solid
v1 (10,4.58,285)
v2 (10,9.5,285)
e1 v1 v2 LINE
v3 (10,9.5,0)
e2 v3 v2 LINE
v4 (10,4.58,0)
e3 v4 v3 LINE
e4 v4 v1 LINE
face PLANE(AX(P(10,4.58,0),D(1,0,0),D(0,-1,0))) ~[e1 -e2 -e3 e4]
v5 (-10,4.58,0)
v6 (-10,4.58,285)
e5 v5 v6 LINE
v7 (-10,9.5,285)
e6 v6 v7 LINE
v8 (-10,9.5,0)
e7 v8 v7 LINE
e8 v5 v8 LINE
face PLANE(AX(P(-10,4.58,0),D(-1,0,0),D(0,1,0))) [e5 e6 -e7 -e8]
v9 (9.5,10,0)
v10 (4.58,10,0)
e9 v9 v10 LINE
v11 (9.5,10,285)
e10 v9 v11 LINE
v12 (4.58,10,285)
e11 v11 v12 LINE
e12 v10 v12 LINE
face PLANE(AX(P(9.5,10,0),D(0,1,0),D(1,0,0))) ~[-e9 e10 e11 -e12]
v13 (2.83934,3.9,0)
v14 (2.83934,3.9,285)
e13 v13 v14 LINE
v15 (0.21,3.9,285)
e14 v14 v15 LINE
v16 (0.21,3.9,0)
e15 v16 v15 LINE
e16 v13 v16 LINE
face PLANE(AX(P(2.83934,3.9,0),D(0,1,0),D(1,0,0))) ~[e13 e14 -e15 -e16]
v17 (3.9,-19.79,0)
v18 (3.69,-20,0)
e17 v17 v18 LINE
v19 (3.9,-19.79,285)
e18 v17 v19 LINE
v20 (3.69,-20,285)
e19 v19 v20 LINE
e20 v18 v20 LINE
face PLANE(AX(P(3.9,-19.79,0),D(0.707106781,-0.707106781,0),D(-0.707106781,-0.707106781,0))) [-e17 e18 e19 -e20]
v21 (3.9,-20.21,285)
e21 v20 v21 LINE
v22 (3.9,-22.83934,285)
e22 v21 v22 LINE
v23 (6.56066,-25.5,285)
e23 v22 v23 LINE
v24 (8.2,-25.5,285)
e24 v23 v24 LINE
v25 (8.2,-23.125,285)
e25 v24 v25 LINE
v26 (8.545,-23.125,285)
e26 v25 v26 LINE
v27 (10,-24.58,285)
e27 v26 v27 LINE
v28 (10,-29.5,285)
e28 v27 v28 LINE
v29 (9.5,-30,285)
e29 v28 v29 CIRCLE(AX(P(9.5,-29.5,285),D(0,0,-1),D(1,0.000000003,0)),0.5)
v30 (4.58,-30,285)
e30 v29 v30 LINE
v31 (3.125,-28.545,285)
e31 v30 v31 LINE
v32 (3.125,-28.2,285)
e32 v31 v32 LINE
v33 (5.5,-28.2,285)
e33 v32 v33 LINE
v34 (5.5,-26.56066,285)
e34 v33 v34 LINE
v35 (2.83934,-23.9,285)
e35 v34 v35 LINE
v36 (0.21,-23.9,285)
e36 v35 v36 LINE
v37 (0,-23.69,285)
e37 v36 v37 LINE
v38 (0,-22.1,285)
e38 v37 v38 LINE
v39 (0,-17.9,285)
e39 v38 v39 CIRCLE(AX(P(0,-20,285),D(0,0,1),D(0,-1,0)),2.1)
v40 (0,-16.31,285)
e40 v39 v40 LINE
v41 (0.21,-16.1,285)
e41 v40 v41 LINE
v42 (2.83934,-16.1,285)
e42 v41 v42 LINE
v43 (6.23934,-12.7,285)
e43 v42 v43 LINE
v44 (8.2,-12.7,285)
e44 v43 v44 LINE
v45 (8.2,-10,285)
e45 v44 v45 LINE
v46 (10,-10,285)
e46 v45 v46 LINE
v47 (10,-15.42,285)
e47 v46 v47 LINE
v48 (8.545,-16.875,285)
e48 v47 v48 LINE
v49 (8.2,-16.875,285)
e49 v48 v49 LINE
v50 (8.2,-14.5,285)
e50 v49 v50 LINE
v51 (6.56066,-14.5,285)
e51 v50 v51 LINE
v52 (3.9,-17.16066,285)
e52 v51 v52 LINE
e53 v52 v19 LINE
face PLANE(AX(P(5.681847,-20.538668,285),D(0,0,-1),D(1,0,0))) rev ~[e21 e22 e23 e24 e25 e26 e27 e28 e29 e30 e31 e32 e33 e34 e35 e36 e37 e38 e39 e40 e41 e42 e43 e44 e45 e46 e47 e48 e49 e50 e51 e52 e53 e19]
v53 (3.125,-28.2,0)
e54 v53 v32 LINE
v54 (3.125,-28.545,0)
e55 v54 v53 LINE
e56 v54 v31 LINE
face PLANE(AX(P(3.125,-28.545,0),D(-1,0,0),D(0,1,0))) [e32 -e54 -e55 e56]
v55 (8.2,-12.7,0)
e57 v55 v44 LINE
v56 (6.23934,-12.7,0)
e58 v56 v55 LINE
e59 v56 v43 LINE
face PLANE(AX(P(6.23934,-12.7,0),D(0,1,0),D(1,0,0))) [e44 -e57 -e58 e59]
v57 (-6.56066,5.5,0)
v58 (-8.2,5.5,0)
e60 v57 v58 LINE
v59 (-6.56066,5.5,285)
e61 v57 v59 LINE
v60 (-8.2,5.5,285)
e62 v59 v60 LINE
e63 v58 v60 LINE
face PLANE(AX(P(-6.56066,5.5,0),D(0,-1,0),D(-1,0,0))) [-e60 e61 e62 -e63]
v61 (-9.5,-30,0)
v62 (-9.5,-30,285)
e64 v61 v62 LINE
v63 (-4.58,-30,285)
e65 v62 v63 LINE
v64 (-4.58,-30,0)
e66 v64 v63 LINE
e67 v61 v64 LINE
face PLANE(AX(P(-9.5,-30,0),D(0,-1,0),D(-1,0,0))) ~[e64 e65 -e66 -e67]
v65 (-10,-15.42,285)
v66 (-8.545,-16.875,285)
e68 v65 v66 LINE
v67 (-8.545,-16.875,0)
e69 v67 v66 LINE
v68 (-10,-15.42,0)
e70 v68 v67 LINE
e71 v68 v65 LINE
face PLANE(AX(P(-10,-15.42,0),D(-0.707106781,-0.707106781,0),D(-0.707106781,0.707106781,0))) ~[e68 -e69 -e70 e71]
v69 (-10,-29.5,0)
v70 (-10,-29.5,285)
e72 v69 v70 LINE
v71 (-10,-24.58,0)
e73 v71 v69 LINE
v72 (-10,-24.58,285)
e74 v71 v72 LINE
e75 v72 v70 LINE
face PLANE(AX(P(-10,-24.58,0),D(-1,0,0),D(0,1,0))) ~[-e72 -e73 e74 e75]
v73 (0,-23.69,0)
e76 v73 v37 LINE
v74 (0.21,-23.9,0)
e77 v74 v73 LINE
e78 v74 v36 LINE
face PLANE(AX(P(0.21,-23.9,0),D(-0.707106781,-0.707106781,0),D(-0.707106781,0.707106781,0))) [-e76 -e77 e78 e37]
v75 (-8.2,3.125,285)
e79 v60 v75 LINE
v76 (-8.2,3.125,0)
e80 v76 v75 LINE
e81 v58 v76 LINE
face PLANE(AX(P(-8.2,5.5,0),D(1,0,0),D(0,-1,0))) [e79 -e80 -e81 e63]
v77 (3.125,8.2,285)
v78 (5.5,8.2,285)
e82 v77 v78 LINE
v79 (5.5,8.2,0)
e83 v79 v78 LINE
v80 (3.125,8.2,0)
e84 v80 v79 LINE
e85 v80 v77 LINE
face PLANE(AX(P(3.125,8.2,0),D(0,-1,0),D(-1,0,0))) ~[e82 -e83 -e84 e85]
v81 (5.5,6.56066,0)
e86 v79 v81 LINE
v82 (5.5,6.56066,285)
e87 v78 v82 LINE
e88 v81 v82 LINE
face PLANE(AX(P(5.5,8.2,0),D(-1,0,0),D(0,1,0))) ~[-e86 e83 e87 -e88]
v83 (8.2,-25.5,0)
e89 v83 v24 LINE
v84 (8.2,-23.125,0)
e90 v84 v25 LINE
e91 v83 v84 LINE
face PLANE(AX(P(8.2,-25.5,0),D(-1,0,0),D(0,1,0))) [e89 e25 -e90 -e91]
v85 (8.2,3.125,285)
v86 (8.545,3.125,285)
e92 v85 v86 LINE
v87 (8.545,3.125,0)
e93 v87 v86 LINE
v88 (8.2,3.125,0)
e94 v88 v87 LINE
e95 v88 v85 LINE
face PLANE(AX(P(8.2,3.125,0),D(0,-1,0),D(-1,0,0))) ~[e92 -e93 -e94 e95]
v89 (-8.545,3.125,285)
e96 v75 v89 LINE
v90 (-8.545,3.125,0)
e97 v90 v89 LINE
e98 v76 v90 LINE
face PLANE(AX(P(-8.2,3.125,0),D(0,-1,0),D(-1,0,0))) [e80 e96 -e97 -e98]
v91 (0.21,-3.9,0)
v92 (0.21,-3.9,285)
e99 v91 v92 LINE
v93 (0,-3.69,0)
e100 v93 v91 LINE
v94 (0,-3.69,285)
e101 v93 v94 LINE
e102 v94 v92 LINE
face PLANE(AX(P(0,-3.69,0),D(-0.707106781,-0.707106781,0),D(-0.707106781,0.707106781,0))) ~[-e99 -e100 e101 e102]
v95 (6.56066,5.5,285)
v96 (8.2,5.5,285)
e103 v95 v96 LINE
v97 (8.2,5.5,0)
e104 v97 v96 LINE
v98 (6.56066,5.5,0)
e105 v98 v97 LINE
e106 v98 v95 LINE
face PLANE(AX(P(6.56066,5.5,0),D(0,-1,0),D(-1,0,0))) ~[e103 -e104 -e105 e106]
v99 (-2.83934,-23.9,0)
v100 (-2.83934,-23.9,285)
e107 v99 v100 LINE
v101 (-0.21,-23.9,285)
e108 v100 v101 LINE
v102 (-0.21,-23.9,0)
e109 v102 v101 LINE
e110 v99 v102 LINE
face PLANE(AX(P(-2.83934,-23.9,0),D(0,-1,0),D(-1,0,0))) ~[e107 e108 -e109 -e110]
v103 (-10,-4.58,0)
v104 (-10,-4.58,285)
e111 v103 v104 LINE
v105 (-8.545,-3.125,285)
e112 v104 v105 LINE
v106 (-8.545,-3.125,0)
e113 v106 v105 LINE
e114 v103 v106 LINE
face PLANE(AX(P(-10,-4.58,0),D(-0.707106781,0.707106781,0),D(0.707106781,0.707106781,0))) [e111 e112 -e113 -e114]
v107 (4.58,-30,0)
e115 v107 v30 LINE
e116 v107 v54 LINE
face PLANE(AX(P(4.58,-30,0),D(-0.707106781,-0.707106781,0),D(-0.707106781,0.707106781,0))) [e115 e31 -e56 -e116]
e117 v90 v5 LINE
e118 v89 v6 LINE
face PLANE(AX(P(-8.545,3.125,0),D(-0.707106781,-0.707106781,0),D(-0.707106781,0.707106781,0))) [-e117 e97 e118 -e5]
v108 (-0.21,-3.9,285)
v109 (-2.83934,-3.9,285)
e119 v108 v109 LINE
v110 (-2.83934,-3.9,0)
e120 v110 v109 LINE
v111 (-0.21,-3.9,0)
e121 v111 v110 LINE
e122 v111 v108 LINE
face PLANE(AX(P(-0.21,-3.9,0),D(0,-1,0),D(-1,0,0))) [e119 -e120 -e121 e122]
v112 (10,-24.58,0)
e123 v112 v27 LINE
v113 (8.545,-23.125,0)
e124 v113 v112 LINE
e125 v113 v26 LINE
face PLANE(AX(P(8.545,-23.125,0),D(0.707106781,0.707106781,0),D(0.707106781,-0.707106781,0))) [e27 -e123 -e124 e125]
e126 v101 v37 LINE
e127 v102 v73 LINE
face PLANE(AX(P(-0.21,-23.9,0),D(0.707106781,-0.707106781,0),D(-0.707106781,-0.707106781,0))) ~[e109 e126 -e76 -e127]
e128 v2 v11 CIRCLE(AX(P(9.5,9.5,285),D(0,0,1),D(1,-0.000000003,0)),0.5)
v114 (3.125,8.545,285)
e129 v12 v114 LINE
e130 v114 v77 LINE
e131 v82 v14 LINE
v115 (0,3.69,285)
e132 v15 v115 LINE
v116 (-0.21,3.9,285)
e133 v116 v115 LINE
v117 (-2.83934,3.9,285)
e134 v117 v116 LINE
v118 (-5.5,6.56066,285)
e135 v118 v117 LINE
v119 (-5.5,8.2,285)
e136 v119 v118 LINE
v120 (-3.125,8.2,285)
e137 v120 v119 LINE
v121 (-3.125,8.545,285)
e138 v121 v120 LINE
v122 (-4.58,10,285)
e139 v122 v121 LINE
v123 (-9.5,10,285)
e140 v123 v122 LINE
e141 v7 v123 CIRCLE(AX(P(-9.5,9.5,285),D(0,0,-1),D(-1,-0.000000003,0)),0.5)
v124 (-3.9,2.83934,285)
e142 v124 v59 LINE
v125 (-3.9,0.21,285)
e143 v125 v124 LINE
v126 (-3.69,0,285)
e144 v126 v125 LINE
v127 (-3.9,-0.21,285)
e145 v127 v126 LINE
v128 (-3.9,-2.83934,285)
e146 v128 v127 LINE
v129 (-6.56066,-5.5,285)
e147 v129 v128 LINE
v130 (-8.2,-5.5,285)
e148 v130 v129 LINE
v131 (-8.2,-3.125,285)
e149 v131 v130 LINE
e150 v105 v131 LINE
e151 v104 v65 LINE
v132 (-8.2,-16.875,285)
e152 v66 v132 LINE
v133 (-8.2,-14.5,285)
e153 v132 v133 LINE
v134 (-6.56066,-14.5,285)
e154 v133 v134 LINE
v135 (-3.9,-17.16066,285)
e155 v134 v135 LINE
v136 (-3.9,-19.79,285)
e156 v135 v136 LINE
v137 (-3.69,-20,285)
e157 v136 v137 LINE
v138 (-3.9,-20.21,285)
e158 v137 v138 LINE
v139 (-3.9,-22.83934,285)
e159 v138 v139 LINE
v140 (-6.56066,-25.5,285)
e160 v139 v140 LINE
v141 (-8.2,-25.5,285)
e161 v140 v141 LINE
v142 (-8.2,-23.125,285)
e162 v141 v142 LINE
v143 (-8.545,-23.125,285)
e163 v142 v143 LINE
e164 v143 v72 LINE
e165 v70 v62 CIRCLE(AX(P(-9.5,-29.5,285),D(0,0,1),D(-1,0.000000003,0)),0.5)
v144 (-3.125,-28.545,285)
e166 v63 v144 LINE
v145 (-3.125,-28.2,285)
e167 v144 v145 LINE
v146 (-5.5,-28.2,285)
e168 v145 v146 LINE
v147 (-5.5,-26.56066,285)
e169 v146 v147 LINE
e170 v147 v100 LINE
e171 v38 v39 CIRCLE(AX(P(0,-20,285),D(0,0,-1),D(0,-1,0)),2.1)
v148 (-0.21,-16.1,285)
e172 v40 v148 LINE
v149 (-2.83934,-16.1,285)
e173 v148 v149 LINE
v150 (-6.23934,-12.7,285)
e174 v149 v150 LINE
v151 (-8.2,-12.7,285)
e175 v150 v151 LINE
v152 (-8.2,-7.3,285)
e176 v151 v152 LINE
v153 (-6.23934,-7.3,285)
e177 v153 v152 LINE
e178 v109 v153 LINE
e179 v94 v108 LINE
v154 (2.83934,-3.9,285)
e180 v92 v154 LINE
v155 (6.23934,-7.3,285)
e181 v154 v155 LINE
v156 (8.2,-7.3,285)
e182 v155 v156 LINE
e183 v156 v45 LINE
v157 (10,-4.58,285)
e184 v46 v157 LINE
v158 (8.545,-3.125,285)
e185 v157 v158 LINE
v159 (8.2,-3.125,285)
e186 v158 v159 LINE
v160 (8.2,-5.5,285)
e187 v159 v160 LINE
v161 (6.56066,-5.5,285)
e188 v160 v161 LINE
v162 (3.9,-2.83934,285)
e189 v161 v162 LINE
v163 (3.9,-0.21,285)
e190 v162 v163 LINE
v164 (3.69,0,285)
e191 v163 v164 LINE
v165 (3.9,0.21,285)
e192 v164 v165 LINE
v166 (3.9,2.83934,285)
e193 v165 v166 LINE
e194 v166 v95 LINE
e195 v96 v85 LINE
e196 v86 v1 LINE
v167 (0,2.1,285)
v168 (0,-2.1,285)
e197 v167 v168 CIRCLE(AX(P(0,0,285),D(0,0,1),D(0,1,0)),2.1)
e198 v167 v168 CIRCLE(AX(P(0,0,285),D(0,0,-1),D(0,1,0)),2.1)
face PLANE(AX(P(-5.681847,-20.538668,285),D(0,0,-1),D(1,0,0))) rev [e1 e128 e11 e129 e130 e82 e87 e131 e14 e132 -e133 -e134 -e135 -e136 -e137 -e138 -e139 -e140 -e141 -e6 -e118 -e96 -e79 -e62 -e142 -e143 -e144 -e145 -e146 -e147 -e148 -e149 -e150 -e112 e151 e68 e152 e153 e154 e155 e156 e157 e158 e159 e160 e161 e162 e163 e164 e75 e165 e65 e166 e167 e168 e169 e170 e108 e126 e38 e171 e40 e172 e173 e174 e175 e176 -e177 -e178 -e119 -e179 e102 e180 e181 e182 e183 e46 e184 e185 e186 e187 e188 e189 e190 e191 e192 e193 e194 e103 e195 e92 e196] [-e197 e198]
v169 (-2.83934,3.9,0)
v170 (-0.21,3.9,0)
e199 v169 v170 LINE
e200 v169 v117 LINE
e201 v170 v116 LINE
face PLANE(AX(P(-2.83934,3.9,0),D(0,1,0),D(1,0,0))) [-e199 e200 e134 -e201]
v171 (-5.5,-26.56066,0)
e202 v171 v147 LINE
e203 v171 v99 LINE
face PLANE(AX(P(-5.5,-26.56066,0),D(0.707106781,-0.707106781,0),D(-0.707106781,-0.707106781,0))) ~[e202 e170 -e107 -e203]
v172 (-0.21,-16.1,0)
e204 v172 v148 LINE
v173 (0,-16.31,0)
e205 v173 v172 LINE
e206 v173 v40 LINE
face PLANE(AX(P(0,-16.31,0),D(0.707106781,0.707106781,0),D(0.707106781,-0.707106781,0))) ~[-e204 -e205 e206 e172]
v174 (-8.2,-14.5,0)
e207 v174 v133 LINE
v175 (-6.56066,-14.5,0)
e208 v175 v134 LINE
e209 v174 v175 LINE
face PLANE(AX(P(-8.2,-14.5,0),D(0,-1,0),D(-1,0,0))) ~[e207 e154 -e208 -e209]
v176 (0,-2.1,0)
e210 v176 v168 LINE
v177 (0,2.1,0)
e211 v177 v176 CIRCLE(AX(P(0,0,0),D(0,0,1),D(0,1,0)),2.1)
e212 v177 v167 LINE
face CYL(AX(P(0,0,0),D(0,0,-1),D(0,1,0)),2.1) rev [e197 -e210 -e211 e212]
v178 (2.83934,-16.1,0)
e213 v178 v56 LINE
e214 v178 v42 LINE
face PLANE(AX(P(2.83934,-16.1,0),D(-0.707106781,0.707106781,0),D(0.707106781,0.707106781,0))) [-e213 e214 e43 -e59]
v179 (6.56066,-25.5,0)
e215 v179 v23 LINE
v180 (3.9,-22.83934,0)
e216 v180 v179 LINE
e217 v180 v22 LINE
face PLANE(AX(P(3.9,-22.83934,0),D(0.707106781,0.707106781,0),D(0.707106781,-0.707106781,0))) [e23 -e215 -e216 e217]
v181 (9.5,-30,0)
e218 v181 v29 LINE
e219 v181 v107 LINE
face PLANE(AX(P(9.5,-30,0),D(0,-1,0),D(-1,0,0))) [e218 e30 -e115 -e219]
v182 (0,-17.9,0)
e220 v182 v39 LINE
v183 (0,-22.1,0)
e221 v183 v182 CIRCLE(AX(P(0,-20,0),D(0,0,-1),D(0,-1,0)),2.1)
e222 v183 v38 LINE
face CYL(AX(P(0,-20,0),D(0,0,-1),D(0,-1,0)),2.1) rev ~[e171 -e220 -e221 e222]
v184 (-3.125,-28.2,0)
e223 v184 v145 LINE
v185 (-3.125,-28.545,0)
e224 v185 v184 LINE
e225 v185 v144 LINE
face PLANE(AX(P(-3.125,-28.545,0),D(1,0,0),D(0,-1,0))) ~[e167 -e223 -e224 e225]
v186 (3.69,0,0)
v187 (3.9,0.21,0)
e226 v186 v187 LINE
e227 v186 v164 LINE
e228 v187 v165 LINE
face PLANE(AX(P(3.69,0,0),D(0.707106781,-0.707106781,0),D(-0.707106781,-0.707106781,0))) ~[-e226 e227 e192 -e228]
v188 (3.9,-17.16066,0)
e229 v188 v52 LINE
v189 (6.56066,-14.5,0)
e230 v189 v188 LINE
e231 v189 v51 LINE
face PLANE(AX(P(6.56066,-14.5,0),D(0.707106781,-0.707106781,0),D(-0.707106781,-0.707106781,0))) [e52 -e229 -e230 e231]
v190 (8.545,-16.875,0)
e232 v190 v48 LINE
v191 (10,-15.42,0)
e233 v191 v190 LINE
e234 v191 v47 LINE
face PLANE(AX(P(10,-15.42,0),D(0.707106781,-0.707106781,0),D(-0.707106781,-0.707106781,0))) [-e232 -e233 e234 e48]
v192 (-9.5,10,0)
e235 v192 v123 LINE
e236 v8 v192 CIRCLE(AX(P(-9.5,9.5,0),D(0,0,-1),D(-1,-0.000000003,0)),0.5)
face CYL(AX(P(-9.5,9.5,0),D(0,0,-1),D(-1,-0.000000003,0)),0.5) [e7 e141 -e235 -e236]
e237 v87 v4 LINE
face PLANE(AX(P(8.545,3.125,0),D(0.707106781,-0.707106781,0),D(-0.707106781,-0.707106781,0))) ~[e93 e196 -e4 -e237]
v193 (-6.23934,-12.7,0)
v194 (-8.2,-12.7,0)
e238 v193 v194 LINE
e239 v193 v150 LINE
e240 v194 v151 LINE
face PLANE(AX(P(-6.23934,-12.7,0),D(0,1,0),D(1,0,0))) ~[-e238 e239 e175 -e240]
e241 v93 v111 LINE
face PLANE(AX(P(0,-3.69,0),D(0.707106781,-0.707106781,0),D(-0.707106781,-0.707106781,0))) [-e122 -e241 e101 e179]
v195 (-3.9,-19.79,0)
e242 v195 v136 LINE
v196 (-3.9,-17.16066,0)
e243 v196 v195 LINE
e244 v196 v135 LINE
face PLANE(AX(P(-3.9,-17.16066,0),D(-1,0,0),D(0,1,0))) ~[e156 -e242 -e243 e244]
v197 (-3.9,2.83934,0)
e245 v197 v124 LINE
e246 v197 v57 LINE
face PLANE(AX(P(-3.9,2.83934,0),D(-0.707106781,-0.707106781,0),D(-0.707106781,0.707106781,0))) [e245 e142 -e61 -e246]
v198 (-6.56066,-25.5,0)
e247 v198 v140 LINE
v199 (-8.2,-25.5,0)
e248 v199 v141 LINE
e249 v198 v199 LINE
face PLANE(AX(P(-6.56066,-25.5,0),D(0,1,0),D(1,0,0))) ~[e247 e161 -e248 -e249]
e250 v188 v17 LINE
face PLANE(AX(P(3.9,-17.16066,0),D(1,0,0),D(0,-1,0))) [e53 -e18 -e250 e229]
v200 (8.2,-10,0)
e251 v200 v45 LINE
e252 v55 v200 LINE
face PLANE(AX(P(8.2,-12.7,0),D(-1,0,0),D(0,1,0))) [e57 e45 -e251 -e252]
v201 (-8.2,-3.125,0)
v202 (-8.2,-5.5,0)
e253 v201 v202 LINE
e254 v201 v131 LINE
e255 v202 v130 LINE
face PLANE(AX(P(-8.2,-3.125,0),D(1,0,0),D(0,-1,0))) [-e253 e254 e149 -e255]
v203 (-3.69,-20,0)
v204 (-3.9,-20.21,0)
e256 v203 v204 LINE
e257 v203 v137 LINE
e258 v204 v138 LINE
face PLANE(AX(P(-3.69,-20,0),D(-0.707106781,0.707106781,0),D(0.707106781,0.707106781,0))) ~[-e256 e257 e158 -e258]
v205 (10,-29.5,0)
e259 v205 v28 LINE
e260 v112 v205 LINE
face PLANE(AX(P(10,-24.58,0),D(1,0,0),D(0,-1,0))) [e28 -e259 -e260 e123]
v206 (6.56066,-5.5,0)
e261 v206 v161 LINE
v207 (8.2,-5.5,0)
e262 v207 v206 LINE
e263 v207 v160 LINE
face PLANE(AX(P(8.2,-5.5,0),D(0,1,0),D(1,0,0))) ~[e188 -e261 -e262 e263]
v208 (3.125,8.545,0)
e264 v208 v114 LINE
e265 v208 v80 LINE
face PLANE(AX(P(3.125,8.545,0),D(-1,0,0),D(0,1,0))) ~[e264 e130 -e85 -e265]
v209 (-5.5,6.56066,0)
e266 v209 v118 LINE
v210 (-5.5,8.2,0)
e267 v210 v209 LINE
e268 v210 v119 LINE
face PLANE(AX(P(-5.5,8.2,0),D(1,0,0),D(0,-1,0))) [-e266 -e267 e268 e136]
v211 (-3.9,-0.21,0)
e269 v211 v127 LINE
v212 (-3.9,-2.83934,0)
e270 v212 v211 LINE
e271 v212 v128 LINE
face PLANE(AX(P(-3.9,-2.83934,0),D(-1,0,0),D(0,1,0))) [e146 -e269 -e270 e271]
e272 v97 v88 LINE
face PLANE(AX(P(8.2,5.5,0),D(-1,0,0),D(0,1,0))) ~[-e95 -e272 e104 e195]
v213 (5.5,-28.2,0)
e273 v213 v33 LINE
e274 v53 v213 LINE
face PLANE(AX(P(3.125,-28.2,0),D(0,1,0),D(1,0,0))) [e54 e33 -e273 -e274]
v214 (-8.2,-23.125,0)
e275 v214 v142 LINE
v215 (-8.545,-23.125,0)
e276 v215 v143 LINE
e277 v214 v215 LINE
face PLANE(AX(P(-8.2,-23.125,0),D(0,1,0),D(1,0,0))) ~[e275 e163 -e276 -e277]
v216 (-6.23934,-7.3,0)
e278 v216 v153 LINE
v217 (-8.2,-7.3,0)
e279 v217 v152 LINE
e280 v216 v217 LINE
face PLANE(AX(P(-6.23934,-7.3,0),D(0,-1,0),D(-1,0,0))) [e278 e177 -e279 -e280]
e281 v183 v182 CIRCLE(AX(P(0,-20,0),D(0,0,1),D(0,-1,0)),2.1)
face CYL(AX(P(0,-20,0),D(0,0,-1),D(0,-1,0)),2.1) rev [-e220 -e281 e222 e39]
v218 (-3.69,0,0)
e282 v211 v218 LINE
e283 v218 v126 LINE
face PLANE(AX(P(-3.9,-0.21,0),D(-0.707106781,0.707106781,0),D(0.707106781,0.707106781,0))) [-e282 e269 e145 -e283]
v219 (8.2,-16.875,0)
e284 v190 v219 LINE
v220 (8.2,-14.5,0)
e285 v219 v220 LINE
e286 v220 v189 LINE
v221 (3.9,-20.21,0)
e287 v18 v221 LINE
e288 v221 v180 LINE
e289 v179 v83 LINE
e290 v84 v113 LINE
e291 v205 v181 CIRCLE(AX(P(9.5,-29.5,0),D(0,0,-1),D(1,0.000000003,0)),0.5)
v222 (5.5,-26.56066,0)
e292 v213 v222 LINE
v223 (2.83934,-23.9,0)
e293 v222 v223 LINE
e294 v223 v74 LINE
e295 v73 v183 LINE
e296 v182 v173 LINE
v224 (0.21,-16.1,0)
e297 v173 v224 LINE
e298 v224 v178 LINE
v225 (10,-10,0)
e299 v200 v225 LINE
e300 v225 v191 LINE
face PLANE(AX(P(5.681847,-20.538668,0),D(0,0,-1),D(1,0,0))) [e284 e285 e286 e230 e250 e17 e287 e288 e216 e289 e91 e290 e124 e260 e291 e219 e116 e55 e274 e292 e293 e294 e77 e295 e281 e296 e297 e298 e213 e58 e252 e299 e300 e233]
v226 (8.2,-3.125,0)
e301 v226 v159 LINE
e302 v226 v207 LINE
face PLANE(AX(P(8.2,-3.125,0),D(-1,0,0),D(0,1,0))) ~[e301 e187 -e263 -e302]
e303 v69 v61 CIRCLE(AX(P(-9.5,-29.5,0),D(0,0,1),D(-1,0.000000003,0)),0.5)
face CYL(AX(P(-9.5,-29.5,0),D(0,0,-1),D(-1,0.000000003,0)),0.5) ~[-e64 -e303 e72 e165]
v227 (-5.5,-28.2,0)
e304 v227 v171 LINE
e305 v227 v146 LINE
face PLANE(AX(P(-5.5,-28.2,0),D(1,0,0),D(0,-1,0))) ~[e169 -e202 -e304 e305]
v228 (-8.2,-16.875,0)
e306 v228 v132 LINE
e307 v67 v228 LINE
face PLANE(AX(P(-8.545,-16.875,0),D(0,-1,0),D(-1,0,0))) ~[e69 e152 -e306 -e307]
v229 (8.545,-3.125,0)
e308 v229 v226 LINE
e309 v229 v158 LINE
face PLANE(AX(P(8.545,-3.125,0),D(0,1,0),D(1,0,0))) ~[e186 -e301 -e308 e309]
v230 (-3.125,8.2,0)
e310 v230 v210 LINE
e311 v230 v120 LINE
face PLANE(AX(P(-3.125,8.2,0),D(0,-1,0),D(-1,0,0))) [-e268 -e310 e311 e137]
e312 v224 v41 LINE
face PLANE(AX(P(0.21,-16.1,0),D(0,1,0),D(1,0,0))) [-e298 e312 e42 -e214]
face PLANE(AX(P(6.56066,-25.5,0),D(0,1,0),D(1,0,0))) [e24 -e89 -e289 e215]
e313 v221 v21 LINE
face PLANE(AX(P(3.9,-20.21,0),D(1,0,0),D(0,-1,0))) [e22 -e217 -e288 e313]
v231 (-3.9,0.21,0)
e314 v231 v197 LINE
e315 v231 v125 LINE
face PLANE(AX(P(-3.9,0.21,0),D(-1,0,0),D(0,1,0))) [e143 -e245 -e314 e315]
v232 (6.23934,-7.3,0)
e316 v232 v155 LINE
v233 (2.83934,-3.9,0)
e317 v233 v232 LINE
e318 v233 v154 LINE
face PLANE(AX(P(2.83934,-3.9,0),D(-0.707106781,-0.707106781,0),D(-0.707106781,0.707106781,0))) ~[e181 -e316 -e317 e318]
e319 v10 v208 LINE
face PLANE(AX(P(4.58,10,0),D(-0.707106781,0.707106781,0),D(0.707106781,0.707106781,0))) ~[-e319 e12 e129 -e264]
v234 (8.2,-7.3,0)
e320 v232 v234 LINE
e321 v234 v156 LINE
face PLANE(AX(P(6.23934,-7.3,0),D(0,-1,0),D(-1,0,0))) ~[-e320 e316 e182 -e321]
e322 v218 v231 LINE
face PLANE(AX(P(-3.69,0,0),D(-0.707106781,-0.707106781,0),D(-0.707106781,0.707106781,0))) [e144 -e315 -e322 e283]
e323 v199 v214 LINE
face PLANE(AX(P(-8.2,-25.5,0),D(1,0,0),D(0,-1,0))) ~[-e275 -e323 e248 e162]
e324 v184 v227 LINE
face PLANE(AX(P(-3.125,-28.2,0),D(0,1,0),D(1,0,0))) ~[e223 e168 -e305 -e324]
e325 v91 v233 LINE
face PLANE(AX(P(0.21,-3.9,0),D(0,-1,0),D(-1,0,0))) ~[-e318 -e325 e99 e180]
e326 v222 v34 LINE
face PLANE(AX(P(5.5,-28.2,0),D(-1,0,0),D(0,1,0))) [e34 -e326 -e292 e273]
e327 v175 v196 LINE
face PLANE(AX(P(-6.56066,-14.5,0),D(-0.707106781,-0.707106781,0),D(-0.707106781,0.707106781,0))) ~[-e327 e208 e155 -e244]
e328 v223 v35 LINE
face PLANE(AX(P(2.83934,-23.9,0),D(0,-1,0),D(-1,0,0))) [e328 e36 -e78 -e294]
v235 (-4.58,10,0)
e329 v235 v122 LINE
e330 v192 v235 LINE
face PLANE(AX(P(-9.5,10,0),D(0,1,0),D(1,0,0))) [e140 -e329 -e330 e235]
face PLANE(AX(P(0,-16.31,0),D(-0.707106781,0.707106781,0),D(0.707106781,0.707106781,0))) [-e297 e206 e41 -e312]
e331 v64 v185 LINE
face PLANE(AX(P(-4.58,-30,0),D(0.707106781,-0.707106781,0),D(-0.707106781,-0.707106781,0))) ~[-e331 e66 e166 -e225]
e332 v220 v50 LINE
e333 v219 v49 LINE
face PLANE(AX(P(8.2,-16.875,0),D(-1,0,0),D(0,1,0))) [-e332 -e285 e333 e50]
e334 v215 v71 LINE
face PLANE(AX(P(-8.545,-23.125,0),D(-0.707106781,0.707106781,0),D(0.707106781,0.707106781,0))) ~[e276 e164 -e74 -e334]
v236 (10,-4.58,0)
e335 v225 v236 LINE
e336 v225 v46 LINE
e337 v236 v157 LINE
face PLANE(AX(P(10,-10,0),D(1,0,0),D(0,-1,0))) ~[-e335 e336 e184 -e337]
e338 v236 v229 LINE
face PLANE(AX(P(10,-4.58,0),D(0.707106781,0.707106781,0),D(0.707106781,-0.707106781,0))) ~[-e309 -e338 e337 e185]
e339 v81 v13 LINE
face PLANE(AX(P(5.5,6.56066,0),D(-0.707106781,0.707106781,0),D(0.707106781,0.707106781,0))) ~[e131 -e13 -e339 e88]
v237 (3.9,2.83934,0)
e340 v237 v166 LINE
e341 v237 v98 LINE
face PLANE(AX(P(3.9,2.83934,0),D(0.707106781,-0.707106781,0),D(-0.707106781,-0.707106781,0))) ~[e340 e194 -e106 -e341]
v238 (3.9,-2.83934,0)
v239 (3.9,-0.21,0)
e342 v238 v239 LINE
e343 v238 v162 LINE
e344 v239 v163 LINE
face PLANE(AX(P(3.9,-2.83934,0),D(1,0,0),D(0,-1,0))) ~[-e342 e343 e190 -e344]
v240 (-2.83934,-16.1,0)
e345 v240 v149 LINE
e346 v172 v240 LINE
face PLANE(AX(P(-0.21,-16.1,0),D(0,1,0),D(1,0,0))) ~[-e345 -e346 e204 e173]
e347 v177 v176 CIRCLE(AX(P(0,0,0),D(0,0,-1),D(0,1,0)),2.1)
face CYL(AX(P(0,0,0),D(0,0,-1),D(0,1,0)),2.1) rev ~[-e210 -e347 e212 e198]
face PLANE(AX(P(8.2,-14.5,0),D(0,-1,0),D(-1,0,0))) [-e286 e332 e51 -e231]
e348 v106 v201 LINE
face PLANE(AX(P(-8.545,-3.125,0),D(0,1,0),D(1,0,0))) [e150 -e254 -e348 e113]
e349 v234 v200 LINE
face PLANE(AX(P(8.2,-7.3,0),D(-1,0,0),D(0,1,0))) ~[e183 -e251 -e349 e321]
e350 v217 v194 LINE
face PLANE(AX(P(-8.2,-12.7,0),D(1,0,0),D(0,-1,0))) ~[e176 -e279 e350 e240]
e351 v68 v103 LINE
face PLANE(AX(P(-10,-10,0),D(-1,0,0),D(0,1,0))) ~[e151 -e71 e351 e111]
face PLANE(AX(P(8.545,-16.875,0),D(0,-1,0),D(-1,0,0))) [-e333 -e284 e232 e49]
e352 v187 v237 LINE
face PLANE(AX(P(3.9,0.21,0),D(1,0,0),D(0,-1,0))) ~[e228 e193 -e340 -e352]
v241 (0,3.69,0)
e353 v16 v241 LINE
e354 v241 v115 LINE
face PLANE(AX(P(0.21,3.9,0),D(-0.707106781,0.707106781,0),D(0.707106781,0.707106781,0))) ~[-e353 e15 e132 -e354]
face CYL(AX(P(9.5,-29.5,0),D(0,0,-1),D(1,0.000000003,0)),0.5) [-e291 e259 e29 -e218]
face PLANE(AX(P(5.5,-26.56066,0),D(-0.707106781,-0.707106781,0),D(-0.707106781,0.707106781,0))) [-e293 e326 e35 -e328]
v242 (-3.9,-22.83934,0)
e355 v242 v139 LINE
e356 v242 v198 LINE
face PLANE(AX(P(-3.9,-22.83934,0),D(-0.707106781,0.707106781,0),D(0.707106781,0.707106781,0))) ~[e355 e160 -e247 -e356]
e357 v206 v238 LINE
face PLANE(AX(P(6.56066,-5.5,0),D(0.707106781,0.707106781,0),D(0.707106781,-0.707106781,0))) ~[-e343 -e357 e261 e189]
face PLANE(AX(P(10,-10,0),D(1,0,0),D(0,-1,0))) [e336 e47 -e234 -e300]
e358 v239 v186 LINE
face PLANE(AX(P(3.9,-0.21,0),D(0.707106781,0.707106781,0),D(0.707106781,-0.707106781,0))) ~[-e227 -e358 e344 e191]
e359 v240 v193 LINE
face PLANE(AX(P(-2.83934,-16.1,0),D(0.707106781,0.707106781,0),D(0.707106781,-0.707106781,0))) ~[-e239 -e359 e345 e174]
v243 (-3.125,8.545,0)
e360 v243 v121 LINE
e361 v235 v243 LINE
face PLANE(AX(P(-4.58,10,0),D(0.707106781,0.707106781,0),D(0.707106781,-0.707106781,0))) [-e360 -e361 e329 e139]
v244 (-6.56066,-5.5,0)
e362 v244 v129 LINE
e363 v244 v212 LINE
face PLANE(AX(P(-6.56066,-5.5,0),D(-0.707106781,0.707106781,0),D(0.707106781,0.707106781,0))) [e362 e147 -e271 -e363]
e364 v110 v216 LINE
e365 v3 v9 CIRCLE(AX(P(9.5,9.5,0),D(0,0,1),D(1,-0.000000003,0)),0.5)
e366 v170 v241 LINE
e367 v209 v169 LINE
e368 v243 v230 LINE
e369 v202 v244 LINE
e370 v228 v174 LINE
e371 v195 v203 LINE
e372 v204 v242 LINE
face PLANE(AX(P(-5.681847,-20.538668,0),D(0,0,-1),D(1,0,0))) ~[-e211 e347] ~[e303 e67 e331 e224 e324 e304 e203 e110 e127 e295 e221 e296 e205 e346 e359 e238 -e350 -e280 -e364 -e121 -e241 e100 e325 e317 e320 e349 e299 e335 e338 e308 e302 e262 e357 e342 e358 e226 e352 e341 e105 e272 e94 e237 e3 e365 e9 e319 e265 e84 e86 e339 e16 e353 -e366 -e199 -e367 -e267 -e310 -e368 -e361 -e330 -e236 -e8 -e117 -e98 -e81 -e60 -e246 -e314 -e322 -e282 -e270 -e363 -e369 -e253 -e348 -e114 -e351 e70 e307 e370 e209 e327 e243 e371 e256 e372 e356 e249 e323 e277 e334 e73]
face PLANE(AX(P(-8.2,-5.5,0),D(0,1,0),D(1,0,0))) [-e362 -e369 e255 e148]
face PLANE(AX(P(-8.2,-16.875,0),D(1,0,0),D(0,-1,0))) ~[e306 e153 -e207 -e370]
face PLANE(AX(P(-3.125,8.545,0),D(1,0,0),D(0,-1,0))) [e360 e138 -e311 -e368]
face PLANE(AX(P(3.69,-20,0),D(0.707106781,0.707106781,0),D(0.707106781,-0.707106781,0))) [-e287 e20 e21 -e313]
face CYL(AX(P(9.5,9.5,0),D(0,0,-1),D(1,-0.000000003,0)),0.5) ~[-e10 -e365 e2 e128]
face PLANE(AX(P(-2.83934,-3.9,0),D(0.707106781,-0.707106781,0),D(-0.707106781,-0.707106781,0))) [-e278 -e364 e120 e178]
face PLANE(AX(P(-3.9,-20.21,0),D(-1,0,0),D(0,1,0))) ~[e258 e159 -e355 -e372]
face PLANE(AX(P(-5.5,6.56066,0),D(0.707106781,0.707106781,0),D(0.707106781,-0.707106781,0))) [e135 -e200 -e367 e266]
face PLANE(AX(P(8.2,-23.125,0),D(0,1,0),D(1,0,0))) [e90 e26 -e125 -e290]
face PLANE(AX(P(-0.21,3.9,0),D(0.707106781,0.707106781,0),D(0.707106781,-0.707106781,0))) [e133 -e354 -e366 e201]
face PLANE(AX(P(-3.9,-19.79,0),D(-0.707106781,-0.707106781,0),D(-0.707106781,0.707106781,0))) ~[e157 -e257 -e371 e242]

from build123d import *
from build123d.topology import SkipClean

# Parameters (mm, degrees)
BOSS_EXTRU_1_DEPTH     = 285
SYM_TRIE6_COPY_1_DEPTH = 285


with BuildPart() as part:
    # Esquisse1 → Boss.-Extru.1 (new body)
    with BuildSketch(Plane.XY):
        with BuildLine():
            Line((-9.5, 10), (-4.58, 10))
            Line((-4.58, 10), (-3.125, 8.545))
            Line((-3.125, 8.545), (-3.125, 8.2))
            Line((-3.125, 8.2), (-5.5, 8.2))
            Line((-5.5, 8.2), (-5.5, 6.560660172))
            Line((-5.5, 6.560660172), (-2.839339828, 3.9))
            Line((-2.839339828, 3.9), (-0.21, 3.9))
            Line((-0.21, 3.9), (0, 3.69))
            Line((0, 3.69), (0, 2.1))
            ThreePointArc((0, 2.1), (-2.1, 0), (0, -2.1))
            Line((0, -2.1), (0, -3.69))
            Line((0, -3.69), (-0.21, -3.9))
            Line((-0.21, -3.9), (-2.839339828, -3.9))
            Line((-2.839339828, -3.9), (-6.239339828, -7.3))
            Line((-6.239339828, -7.3), (-8.2, -7.3))
            Line((-8.2, -7.3), (-8.2, -10))
            Line((-8.2, -10), (-10, -10))
            Line((-10, -10), (-10, -4.58))
            Line((-10, -4.58), (-8.545, -3.125))
            Line((-8.545, -3.125), (-8.2, -3.125))
            Line((-8.2, -3.125), (-8.2, -5.5))
            Line((-8.2, -5.5), (-6.560660172, -5.5))
            Line((-6.560660172, -5.5), (-3.9, -2.839339828))
            Line((-3.9, -2.839339828), (-3.9, -0.21))
            Line((-3.9, -0.21), (-3.69, 0))
            Line((-3.69, 0), (-3.9, 0.21))
            Line((-3.9, 0.21), (-3.9, 2.839339828))
            Line((-3.9, 2.839339828), (-6.560660172, 5.5))
            Line((-6.560660172, 5.5), (-8.2, 5.5))
            Line((-8.2, 5.5), (-8.2, 3.125))
            Line((-8.2, 3.125), (-8.545, 3.125))
            Line((-8.545, 3.125), (-10, 4.58))
            Line((-10, 4.58), (-10, 9.5))
            ThreePointArc((-10, 9.5), (-9.853553391, 9.853553391), (-9.5, 10))
        make_face()
    boss_extru_1 = extrude(amount=BOSS_EXTRU_1_DEPTH)

    # Symétrie1: Boss.-Extru.1 across plane
    add(boss_extru_1.mirror(Plane(origin=(0, 3.69, 285), x_dir=(0, 0, 1), z_dir=(-1, 0, 0))))

    # Symétrie6: Boss.-Extru.1 across plane
    add(boss_extru_1.mirror(Plane(origin=(-8.2, -10, 285), x_dir=(0, 0, 1), z_dir=(0, 1, 0))))

    # Symétrie6 copy 1 sketch → Symétrie6 copy 1 (add)
    with SkipClean():  # the faces are left unmerged after this step: merging them gives an invalid solid
        with BuildSketch(Plane(origin=(0, -20, 0), x_dir=(-1, 0, 0), z_dir=(0, 0, 1))):
            with BuildLine():
                Line((-9.5, 10), (-4.58, 10))
                Line((-4.58, 10), (-3.125, 8.545))
                Line((-3.125, 8.545), (-3.125, 8.2))
                Line((-3.125, 8.2), (-5.5, 8.2))
                Line((-5.5, 8.2), (-5.5, 6.560660172))
                Line((-5.5, 6.560660172), (-2.839339828, 3.9))
                Line((-2.839339828, 3.9), (-0.21, 3.9))
                Line((-0.21, 3.9), (0, 3.69))
                Line((0, 3.69), (0, 2.1))
                ThreePointArc((0, 2.1), (-2.1, 0), (0, -2.1))
                Line((0, -2.1), (0, -3.69))
                Line((0, -3.69), (-0.21, -3.9))
                Line((-0.21, -3.9), (-2.839339828, -3.9))
                Line((-2.839339828, -3.9), (-6.239339828, -7.3))
                Line((-6.239339828, -7.3), (-8.2, -7.3))
                Line((-8.2, -7.3), (-8.2, -10))
                Line((-8.2, -10), (-10, -10))
                Line((-10, -10), (-10, -4.58))
                Line((-10, -4.58), (-8.545, -3.125))
                Line((-8.545, -3.125), (-8.2, -3.125))
                Line((-8.2, -3.125), (-8.2, -5.5))
                Line((-8.2, -5.5), (-6.560660172, -5.5))
                Line((-6.560660172, -5.5), (-3.9, -2.839339828))
                Line((-3.9, -2.839339828), (-3.9, -0.21))
                Line((-3.9, -0.21), (-3.69, 0))
                Line((-3.69, 0), (-3.9, 0.21))
                Line((-3.9, 0.21), (-3.9, 2.839339828))
                Line((-3.9, 2.839339828), (-6.560660172, 5.5))
                Line((-6.560660172, 5.5), (-8.2, 5.5))
                Line((-8.2, 5.5), (-8.2, 3.125))
                Line((-8.2, 3.125), (-8.545, 3.125))
                Line((-8.545, 3.125), (-10, 4.58))
                Line((-10, 4.58), (-10, 9.5))
                ThreePointArc((-10, 9.5), (-9.853553391, 9.853553391), (-9.5, 10))
            make_face()
        extrude(amount=SYM_TRIE6_COPY_1_DEPTH)


solid = part.part
